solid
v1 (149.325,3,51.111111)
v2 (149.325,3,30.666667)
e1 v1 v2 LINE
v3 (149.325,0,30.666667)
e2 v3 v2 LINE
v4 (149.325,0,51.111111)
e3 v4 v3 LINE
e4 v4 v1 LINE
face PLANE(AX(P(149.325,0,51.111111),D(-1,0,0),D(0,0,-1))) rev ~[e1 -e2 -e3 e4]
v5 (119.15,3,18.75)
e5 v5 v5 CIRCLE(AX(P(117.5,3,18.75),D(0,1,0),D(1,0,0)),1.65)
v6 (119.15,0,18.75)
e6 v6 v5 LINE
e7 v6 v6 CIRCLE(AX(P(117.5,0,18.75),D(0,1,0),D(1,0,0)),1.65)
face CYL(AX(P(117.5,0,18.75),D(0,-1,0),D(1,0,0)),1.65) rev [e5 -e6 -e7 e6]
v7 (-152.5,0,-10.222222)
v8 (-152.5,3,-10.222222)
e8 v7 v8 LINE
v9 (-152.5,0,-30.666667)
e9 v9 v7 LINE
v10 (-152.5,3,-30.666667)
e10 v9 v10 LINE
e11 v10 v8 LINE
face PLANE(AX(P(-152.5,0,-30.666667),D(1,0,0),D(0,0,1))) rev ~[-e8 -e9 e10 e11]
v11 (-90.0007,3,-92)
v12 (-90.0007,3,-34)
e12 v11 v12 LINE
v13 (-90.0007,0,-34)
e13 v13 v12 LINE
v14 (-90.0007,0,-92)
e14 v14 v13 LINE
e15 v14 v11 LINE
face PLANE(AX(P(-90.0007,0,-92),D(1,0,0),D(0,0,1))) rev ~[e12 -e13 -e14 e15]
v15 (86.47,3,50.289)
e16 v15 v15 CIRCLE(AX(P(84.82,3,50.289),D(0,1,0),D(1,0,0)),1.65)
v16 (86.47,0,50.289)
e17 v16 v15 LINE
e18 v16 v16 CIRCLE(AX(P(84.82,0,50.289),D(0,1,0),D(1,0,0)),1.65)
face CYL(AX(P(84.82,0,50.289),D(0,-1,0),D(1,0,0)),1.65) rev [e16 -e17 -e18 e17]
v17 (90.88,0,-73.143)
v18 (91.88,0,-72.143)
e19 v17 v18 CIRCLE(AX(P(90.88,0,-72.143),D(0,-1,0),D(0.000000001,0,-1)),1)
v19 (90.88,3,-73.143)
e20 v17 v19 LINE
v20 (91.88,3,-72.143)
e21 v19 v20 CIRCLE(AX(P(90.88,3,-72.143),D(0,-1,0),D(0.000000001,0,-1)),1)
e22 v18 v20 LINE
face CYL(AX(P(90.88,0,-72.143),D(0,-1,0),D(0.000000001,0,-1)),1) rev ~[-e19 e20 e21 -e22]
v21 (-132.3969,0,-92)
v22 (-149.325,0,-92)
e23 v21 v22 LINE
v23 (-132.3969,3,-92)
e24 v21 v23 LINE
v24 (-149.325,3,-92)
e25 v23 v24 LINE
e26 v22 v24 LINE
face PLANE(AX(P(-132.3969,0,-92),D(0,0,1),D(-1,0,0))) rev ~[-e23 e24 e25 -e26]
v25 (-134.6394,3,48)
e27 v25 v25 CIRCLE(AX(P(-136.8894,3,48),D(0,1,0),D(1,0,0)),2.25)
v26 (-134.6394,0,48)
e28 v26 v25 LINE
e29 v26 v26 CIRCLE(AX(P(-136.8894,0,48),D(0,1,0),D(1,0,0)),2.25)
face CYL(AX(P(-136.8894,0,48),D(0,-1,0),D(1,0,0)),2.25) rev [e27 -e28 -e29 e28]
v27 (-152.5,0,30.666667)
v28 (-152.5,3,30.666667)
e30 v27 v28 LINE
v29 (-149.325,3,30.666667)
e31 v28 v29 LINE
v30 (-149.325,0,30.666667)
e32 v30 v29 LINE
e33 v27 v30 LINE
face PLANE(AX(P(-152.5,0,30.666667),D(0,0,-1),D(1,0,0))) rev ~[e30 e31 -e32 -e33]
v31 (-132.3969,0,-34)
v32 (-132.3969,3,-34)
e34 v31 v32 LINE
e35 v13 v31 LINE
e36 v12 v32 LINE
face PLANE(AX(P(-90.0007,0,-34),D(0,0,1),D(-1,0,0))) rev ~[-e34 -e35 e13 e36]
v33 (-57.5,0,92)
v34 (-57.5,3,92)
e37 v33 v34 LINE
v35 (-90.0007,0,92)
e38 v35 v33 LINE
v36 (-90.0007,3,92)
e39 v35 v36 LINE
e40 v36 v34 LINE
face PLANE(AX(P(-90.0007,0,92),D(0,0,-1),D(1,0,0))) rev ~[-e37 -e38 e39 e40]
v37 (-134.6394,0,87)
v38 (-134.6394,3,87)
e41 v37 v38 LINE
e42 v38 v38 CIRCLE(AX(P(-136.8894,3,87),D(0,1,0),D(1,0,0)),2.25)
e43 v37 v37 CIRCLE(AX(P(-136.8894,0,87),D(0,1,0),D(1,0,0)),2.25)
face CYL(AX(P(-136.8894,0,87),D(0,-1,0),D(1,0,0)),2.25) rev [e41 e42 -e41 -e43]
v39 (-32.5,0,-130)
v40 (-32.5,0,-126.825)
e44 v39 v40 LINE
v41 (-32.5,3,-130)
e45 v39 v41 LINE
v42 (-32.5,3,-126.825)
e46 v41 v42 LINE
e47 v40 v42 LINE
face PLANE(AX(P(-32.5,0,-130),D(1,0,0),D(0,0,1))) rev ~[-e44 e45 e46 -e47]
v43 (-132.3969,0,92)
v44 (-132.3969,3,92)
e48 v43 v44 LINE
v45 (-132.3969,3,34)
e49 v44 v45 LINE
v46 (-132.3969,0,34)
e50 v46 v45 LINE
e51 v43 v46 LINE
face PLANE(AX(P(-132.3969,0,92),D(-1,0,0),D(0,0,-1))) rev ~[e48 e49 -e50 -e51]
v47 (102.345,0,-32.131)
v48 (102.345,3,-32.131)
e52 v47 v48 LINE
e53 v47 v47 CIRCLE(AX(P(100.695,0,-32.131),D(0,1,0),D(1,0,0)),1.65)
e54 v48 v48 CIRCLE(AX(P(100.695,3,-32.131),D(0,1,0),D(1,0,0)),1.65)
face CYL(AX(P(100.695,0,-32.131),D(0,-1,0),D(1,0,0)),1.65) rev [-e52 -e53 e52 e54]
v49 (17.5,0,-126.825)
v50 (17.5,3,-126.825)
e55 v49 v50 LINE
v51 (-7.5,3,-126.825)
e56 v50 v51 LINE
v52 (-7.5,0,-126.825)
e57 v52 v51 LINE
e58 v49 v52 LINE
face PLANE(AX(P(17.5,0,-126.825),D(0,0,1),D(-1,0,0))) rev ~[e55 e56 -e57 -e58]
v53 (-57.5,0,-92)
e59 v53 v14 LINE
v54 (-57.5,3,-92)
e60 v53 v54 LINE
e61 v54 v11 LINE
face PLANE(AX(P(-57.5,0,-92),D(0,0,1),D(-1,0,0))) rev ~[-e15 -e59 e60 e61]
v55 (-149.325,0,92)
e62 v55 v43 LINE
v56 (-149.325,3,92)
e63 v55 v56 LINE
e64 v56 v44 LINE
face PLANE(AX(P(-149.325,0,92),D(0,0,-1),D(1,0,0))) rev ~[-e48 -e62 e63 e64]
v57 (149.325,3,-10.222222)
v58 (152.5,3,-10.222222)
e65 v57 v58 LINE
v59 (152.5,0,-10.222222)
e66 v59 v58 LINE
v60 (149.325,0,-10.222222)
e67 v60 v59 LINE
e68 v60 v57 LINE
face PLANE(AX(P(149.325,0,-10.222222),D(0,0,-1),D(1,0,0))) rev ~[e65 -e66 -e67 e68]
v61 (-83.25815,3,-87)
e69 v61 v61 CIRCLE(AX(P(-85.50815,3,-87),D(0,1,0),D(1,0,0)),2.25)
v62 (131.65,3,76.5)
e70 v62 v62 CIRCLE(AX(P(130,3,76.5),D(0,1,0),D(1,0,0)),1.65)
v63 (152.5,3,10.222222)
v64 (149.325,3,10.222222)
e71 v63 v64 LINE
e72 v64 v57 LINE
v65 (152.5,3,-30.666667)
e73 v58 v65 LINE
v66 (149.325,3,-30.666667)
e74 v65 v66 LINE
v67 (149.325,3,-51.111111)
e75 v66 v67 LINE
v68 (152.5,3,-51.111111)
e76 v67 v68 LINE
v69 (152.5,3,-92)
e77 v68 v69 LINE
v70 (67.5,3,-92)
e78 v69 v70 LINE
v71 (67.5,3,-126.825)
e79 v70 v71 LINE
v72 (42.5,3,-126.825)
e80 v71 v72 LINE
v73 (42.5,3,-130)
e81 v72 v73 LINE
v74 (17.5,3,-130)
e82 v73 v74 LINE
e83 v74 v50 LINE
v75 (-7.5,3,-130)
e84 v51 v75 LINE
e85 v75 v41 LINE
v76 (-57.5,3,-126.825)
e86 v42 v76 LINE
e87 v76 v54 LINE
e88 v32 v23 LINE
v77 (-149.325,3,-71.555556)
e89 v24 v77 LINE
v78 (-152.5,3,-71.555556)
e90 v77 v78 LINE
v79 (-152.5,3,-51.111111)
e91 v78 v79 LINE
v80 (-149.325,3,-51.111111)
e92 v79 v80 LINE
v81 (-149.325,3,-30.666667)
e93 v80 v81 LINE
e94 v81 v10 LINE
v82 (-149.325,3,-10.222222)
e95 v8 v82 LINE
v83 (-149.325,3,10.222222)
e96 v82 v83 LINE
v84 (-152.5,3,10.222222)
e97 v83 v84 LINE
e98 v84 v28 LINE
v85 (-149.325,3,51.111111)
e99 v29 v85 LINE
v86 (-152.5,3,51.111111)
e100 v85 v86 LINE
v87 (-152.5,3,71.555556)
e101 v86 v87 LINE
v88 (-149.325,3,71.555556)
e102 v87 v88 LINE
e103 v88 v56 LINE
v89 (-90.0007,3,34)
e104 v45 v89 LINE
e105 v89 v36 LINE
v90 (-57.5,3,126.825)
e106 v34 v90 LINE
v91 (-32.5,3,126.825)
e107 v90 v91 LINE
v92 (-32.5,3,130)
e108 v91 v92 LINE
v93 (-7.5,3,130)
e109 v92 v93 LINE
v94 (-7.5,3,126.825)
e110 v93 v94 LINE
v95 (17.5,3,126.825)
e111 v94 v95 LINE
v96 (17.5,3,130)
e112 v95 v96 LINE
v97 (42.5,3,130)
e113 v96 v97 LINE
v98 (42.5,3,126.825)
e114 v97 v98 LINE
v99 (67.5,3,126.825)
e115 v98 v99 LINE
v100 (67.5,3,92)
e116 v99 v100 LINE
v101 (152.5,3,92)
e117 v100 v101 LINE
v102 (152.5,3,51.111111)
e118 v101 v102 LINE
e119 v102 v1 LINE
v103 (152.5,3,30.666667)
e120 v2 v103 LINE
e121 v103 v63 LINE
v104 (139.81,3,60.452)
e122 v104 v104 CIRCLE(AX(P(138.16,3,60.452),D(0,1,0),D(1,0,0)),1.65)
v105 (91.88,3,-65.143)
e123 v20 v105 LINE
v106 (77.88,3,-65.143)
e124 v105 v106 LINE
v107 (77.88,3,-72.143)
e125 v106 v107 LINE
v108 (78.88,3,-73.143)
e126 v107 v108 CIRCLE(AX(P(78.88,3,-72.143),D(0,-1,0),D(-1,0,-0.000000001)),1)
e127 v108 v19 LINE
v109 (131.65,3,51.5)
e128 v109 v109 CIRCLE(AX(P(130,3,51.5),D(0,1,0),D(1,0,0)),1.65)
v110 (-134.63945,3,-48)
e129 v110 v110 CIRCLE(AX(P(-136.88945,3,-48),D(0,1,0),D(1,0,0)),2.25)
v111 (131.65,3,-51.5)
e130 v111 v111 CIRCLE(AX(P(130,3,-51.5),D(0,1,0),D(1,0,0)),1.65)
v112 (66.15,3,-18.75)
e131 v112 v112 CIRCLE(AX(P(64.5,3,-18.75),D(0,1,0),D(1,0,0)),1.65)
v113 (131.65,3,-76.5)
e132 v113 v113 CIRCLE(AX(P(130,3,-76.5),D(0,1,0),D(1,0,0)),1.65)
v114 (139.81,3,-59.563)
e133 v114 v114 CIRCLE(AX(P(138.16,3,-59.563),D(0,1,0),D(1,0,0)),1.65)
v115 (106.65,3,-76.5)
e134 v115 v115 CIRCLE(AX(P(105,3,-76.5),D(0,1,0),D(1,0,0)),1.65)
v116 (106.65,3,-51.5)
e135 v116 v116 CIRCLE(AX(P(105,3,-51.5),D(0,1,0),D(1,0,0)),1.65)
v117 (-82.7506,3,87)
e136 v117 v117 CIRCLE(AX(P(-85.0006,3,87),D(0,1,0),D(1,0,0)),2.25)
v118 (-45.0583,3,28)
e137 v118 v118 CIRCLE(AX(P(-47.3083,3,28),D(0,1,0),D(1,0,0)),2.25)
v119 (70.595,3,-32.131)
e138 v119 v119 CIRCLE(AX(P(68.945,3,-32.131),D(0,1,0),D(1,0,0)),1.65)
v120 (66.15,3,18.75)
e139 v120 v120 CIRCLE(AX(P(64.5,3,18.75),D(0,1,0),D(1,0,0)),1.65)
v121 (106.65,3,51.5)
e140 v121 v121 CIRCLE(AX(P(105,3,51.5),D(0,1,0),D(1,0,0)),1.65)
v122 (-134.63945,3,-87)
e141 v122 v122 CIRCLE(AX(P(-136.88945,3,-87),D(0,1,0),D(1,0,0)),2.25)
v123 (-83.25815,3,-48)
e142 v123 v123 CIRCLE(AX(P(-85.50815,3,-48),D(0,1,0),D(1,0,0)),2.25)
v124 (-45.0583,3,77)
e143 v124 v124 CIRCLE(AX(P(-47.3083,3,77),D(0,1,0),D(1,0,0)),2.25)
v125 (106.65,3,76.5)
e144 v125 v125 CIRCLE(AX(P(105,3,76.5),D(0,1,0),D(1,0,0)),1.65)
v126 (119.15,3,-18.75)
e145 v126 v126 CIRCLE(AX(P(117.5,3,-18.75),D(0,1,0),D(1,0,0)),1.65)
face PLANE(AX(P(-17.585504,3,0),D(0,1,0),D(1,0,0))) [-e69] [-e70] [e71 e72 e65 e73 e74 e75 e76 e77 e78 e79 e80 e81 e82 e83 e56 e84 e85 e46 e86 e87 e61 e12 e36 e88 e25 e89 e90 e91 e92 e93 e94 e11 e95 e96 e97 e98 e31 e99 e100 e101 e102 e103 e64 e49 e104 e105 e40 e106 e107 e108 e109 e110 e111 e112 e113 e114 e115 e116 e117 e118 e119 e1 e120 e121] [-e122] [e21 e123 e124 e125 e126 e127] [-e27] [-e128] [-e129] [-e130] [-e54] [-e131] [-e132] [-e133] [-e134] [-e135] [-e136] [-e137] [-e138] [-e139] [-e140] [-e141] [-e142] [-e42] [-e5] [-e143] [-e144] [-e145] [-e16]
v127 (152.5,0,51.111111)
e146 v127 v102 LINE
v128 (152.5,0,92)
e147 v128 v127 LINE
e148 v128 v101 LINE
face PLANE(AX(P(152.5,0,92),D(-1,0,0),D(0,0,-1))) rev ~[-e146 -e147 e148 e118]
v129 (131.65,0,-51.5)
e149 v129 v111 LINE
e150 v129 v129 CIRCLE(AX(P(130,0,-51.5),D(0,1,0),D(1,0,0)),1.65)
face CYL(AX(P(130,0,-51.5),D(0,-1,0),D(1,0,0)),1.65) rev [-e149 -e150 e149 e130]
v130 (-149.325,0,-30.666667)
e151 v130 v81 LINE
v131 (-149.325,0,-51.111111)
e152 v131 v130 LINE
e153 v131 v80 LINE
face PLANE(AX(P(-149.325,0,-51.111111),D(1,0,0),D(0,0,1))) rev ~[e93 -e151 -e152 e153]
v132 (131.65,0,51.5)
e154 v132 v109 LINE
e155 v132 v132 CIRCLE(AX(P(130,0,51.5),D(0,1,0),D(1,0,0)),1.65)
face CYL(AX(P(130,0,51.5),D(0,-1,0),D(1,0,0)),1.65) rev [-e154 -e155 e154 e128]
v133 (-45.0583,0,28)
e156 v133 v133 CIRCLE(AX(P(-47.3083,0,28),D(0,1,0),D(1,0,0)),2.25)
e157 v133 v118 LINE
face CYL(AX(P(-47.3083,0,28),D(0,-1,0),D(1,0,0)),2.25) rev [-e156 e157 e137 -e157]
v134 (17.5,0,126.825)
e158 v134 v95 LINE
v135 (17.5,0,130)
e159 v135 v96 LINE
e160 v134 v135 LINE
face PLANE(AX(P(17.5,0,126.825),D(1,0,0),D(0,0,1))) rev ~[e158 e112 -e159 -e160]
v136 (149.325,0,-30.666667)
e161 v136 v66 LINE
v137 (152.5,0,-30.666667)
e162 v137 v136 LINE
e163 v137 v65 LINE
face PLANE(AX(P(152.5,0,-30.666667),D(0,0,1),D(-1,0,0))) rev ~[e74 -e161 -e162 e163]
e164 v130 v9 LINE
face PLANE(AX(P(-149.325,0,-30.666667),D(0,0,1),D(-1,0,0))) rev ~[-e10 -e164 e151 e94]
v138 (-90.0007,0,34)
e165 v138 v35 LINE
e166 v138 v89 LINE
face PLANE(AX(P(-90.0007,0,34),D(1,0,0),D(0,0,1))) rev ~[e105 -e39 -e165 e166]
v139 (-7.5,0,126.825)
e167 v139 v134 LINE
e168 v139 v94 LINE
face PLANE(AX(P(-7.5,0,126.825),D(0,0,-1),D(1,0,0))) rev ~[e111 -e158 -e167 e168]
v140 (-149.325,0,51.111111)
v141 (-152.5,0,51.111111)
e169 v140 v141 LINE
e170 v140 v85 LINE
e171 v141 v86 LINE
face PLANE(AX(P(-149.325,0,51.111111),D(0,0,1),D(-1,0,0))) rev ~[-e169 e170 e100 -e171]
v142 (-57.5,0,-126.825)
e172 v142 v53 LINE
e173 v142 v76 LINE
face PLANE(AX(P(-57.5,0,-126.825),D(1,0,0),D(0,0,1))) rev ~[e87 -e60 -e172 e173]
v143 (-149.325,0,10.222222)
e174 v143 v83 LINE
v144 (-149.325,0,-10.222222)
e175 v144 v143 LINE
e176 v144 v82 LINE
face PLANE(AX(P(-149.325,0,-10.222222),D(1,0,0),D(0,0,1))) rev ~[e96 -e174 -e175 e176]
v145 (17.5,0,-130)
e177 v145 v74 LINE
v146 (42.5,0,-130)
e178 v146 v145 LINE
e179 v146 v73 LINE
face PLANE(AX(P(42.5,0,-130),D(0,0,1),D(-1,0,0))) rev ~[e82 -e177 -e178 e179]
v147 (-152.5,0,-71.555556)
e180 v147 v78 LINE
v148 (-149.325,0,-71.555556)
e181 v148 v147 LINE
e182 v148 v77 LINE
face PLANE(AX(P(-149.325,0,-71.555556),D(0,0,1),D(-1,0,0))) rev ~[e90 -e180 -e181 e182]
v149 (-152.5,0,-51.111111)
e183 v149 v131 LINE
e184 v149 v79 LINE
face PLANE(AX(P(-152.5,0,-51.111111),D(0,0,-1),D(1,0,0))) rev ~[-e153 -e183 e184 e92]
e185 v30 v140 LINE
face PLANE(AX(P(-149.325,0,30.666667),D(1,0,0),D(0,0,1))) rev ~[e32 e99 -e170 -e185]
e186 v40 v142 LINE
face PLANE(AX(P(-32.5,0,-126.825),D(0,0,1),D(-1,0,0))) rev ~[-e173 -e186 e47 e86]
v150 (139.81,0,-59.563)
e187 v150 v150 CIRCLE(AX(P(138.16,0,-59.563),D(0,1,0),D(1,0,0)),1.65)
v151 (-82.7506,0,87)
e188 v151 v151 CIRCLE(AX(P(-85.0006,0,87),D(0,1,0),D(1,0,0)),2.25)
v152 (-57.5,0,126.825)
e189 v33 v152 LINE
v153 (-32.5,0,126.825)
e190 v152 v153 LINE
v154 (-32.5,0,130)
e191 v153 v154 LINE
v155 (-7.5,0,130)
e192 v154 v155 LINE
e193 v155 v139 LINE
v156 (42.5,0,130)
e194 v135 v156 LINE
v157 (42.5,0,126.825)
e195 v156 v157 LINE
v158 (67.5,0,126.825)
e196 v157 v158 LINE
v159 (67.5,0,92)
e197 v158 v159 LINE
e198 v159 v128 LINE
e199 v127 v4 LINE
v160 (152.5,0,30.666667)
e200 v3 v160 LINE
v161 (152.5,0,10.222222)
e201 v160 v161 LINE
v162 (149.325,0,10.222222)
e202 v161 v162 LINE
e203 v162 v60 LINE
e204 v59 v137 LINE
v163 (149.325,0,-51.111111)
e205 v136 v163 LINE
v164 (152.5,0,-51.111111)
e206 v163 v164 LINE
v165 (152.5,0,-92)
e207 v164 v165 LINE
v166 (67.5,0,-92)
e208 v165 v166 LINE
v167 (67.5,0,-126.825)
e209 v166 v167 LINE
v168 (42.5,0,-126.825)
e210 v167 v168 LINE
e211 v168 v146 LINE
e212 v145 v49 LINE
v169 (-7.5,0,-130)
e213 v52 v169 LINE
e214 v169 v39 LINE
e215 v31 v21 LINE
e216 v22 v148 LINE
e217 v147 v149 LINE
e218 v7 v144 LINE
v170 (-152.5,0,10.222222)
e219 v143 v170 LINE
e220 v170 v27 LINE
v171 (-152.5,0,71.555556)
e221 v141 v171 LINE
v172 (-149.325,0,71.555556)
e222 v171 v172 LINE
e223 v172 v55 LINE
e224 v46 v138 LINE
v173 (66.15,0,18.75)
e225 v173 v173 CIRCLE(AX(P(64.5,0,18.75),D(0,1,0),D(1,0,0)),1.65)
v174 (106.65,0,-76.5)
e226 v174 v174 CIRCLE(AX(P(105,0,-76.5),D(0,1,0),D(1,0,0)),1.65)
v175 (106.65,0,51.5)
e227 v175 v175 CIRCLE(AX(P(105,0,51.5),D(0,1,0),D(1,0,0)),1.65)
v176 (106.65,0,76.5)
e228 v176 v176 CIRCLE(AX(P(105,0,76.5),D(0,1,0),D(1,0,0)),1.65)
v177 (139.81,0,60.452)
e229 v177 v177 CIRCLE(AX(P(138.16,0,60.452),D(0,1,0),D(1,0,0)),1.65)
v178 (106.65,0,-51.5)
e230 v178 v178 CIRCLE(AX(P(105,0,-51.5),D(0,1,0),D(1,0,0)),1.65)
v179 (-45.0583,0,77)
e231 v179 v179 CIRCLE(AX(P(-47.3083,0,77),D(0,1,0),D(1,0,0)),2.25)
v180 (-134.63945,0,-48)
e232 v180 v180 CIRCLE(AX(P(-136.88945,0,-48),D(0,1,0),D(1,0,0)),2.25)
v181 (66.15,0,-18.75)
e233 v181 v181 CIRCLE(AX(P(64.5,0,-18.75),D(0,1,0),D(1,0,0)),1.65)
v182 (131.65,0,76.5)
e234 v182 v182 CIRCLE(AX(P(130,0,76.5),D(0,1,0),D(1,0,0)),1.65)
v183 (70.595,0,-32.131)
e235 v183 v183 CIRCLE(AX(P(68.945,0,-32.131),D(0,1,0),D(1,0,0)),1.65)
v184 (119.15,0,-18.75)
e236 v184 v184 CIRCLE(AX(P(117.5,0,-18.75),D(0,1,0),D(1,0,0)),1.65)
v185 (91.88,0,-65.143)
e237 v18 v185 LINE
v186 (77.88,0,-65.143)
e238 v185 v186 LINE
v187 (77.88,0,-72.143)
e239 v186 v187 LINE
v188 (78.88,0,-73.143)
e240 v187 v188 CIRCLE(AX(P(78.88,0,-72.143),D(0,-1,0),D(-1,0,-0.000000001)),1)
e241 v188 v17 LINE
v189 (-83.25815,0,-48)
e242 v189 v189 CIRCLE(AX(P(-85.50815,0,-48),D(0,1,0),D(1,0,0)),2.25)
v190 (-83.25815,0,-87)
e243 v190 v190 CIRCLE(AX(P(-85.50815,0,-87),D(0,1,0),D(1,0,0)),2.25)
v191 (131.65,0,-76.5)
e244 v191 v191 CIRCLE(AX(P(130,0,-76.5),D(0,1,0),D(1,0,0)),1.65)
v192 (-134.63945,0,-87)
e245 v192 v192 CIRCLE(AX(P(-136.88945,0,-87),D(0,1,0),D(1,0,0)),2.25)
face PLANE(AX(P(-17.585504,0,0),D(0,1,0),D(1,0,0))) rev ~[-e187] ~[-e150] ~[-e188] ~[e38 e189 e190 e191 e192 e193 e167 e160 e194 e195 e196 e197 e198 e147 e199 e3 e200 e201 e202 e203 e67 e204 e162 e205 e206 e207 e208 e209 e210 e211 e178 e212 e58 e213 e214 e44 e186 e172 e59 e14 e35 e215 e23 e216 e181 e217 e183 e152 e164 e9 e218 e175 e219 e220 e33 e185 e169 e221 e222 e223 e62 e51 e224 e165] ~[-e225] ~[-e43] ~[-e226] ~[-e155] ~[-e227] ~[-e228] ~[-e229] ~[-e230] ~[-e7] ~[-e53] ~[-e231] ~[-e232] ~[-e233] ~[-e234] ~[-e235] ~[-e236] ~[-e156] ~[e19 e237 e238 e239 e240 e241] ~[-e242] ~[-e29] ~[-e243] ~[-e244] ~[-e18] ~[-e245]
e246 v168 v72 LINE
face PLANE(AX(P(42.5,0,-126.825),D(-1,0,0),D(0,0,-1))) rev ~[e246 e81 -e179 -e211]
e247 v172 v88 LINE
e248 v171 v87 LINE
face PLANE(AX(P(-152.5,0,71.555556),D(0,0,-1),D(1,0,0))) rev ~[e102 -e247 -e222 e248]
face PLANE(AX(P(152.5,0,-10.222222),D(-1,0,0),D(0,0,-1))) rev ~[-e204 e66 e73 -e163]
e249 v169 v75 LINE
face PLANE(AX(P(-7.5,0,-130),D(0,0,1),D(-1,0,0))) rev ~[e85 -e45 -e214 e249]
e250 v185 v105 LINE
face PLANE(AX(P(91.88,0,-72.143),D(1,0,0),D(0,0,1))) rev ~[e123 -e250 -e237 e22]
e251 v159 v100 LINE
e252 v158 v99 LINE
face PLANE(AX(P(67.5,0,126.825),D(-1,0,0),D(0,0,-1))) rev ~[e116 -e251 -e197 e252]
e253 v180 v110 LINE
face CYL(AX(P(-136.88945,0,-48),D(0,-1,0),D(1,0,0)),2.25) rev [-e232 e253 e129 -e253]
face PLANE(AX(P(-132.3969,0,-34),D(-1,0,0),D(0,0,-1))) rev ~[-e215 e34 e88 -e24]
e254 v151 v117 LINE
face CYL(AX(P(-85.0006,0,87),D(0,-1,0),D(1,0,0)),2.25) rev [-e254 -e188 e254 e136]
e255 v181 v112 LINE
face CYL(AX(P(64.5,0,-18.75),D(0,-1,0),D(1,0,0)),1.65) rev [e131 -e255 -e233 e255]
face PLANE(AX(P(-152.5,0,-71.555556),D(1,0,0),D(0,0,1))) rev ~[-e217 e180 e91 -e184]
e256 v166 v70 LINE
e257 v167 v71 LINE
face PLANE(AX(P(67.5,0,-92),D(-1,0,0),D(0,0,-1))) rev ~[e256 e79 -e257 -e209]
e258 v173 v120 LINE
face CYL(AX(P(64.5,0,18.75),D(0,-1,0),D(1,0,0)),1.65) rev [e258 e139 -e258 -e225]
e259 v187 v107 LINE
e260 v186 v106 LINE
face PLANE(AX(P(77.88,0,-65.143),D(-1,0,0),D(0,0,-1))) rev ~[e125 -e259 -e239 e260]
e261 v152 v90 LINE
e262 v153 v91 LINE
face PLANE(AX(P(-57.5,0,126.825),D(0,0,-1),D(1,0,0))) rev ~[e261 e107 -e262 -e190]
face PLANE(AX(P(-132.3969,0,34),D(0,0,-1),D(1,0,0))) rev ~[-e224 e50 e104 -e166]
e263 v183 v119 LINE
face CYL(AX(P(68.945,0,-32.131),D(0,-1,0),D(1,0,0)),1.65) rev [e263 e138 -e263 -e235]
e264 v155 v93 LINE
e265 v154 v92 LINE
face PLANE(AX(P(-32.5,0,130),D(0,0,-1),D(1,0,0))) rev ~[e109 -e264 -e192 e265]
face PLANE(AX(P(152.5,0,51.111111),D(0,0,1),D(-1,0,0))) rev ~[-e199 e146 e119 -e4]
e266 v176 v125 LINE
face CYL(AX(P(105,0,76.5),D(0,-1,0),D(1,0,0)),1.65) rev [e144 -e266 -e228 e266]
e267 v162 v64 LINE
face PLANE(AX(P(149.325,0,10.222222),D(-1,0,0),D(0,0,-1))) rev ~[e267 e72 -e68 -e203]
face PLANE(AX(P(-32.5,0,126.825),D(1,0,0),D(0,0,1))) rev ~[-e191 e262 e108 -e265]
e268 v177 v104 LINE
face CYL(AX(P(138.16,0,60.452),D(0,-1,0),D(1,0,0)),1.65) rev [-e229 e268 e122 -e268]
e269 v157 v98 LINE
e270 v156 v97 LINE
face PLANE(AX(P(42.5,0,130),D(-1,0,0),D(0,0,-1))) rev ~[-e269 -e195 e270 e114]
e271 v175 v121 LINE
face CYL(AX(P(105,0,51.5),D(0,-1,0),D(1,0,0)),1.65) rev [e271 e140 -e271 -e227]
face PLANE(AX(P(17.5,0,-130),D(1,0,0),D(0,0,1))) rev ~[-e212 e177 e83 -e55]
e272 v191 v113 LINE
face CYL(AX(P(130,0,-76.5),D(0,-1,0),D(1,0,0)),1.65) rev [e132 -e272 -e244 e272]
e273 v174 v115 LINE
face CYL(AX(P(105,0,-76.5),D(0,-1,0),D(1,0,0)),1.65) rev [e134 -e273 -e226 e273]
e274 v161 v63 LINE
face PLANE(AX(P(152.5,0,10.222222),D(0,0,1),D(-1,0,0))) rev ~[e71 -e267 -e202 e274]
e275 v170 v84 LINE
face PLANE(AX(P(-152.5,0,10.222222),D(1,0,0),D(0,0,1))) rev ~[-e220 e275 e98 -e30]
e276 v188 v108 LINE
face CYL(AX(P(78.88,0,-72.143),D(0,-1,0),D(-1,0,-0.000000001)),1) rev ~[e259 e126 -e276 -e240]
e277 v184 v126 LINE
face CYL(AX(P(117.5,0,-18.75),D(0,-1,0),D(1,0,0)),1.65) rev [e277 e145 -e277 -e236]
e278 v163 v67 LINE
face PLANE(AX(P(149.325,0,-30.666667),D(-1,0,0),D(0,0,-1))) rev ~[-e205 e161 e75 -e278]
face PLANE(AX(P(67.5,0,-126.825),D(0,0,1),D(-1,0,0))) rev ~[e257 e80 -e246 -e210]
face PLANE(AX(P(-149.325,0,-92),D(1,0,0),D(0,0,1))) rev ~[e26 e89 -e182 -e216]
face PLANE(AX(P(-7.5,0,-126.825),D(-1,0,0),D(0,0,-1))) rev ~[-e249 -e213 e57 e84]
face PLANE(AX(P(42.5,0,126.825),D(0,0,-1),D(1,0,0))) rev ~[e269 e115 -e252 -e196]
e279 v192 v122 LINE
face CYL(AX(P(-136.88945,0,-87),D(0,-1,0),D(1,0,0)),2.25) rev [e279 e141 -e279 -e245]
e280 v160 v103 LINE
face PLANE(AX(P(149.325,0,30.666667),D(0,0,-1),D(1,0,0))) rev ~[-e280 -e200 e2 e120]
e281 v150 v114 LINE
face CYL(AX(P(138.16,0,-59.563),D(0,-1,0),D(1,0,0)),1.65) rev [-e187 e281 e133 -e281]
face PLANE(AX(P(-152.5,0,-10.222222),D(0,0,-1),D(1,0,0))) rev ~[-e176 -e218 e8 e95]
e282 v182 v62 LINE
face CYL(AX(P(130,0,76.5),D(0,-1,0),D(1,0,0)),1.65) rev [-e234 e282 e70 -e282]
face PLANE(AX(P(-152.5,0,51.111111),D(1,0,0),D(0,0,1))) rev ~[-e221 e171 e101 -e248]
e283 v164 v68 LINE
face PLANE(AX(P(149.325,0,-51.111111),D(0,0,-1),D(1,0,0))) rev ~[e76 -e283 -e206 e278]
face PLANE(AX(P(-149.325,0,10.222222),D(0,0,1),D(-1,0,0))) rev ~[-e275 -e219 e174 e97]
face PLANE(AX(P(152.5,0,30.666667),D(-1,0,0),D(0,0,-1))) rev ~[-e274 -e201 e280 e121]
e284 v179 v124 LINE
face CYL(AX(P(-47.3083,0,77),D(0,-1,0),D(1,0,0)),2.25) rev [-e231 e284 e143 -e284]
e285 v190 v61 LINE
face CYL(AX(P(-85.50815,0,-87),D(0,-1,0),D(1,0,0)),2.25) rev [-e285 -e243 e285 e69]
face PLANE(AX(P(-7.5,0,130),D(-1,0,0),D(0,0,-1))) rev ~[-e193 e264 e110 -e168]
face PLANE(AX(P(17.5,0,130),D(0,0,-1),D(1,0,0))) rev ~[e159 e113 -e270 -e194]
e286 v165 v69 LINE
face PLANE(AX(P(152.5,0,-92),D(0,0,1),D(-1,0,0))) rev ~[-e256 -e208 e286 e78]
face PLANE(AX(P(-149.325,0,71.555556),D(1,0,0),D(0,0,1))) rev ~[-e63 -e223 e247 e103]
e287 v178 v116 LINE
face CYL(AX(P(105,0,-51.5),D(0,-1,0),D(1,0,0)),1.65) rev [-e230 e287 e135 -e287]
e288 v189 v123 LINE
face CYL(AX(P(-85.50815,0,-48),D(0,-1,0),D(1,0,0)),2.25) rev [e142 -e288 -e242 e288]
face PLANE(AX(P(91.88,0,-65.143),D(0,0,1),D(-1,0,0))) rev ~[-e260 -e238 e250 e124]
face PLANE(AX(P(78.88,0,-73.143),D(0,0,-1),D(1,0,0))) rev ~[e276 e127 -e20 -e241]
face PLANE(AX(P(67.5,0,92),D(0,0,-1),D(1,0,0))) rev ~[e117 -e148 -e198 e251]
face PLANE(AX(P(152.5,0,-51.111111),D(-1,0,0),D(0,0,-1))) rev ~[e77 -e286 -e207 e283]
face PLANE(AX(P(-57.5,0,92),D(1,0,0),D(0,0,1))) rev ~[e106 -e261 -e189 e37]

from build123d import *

# Parameters (mm, degrees)
SKETCH1_R           = 1.65
SKETCH1_R_2         = 2.25
BOSS_EXTRUDE1_DEPTH = 3


with BuildPart() as part:
    # Sketch1 → Boss-Extrude1 (new body)
    with BuildSketch(Plane(origin=(0, 0, 0), x_dir=(1, 0, 0), z_dir=(0, 1, 0))):
        Polygon((152.5, 92), (67.5, 92), (67.5, 126.825), (42.5, 126.825), (42.5, 130), (17.5, 130), (17.5, 126.825), (-7.5, 126.825), (-7.5, 130), (-32.5, 130), (-32.5, 126.825), (-57.5, 126.825), (-57.5, 92), (-90.0007, 92), (-90.0007, 34), (-132.3969, 34), (-132.3969, 92), (-149.325, 92), (-149.325, 71.555555556), (-152.5, 71.555555556), (-152.5, 51.111111111), (-149.325, 51.111111111), (-149.325, 30.666666667), (-152.5, 30.666666667), (-152.5, 10.222222222), (-149.325, 10.222222222), (-149.325, -10.222222222), (-152.5, -10.222222222), (-152.5, -30.666666667), (-149.325, -30.666666667), (-149.325, -51.111111111), (-152.5, -51.111111111), (-152.5, -71.555555556), (-149.325, -71.555555556), (-149.325, -92), (-132.3969, -92), (-132.3969, -34), (-90.0007, -34), (-90.0007, -92), (-57.5, -92), (-57.5, -126.825), (-32.5, -126.825), (-32.5, -130), (-7.5, -130), (-7.5, -126.825), (17.5, -126.825), (17.5, -130), (42.5, -130), (42.5, -126.825), (67.5, -126.825), (67.5, -92), (152.5, -92), (152.5, -51.111111111), (149.325, -51.111111111), (149.325, -30.666666667), (152.5, -30.666666667), (152.5, -10.222222222), (149.325, -10.222222222), (149.325, 10.222222222), (152.5, 10.222222222), (152.5, 30.666666667), (149.325, 30.666666667), (149.325, 51.111111111), (152.5, 51.111111111), align=None)
        with Locations((105, 76.5)):
            Circle(SKETCH1_R, mode=Mode.SUBTRACT)
        with Locations((130, 76.5)):
            Circle(SKETCH1_R, mode=Mode.SUBTRACT)
        with Locations((-136.8894, -87)):
            Circle(SKETCH1_R_2, mode=Mode.SUBTRACT)
        with Locations((-85.0006, -87)):
            Circle(SKETCH1_R_2, mode=Mode.SUBTRACT)
        with Locations((-47.3083, -77)):
            Circle(SKETCH1_R_2, mode=Mode.SUBTRACT)
        with Locations((-136.8894, -48)):
            Circle(SKETCH1_R_2, mode=Mode.SUBTRACT)
        with Locations((-47.3083, -28)):
            Circle(SKETCH1_R_2, mode=Mode.SUBTRACT)
        with Locations((105, -76.5)):
            Circle(SKETCH1_R, mode=Mode.SUBTRACT)
        with Locations((130, -76.5)):
            Circle(SKETCH1_R, mode=Mode.SUBTRACT)
        with Locations((84.82, -50.289)):
            Circle(SKETCH1_R, mode=Mode.SUBTRACT)
        with Locations((105, -51.5)):
            Circle(SKETCH1_R, mode=Mode.SUBTRACT)
        with Locations((130, -51.5)):
            Circle(SKETCH1_R, mode=Mode.SUBTRACT)
        with Locations((138.16, -60.452)):
            Circle(SKETCH1_R, mode=Mode.SUBTRACT)
        with Locations((64.5, -18.75)):
            Circle(SKETCH1_R, mode=Mode.SUBTRACT)
        with Locations((117.5, -18.75)):
            Circle(SKETCH1_R, mode=Mode.SUBTRACT)
        with Locations((-136.88945, 48)):
            Circle(SKETCH1_R_2, mode=Mode.SUBTRACT)
        with Locations((-85.50815, 48)):
            Circle(SKETCH1_R_2, mode=Mode.SUBTRACT)
        with Locations((-136.88945, 87)):
            Circle(SKETCH1_R_2, mode=Mode.SUBTRACT)
        with Locations((-85.50815, 87)):
            Circle(SKETCH1_R_2, mode=Mode.SUBTRACT)
        with Locations((64.5, 18.75)):
            Circle(SKETCH1_R, mode=Mode.SUBTRACT)
        with Locations((68.945, 32.131)):
            Circle(SKETCH1_R, mode=Mode.SUBTRACT)
        with Locations((100.695, 32.131)):
            Circle(SKETCH1_R, mode=Mode.SUBTRACT)
        with Locations((117.5, 18.75)):
            Circle(SKETCH1_R, mode=Mode.SUBTRACT)
        with Locations((105, 51.5)):
            Circle(SKETCH1_R, mode=Mode.SUBTRACT)
        with Locations((130, 51.5)):
            Circle(SKETCH1_R, mode=Mode.SUBTRACT)
        with Locations((138.16, 59.563)):
            Circle(SKETCH1_R, mode=Mode.SUBTRACT)
        with BuildLine():
            Line((91.88, 65.143), (77.88, 65.143))
            Line((77.88, 65.143), (77.88, 72.143))
            ThreePointArc((77.88, 72.143), (78.172893219, 72.850106781), (78.88, 73.143))
            Line((78.88, 73.143), (90.88, 73.143))
            ThreePointArc((90.88, 73.143), (91.587106781, 72.850106781), (91.88, 72.143))
            Line((91.88, 72.143), (91.88, 65.143))
        make_face(mode=Mode.SUBTRACT)
    extrude(amount=BOSS_EXTRUDE1_DEPTH)


solid = part.part
